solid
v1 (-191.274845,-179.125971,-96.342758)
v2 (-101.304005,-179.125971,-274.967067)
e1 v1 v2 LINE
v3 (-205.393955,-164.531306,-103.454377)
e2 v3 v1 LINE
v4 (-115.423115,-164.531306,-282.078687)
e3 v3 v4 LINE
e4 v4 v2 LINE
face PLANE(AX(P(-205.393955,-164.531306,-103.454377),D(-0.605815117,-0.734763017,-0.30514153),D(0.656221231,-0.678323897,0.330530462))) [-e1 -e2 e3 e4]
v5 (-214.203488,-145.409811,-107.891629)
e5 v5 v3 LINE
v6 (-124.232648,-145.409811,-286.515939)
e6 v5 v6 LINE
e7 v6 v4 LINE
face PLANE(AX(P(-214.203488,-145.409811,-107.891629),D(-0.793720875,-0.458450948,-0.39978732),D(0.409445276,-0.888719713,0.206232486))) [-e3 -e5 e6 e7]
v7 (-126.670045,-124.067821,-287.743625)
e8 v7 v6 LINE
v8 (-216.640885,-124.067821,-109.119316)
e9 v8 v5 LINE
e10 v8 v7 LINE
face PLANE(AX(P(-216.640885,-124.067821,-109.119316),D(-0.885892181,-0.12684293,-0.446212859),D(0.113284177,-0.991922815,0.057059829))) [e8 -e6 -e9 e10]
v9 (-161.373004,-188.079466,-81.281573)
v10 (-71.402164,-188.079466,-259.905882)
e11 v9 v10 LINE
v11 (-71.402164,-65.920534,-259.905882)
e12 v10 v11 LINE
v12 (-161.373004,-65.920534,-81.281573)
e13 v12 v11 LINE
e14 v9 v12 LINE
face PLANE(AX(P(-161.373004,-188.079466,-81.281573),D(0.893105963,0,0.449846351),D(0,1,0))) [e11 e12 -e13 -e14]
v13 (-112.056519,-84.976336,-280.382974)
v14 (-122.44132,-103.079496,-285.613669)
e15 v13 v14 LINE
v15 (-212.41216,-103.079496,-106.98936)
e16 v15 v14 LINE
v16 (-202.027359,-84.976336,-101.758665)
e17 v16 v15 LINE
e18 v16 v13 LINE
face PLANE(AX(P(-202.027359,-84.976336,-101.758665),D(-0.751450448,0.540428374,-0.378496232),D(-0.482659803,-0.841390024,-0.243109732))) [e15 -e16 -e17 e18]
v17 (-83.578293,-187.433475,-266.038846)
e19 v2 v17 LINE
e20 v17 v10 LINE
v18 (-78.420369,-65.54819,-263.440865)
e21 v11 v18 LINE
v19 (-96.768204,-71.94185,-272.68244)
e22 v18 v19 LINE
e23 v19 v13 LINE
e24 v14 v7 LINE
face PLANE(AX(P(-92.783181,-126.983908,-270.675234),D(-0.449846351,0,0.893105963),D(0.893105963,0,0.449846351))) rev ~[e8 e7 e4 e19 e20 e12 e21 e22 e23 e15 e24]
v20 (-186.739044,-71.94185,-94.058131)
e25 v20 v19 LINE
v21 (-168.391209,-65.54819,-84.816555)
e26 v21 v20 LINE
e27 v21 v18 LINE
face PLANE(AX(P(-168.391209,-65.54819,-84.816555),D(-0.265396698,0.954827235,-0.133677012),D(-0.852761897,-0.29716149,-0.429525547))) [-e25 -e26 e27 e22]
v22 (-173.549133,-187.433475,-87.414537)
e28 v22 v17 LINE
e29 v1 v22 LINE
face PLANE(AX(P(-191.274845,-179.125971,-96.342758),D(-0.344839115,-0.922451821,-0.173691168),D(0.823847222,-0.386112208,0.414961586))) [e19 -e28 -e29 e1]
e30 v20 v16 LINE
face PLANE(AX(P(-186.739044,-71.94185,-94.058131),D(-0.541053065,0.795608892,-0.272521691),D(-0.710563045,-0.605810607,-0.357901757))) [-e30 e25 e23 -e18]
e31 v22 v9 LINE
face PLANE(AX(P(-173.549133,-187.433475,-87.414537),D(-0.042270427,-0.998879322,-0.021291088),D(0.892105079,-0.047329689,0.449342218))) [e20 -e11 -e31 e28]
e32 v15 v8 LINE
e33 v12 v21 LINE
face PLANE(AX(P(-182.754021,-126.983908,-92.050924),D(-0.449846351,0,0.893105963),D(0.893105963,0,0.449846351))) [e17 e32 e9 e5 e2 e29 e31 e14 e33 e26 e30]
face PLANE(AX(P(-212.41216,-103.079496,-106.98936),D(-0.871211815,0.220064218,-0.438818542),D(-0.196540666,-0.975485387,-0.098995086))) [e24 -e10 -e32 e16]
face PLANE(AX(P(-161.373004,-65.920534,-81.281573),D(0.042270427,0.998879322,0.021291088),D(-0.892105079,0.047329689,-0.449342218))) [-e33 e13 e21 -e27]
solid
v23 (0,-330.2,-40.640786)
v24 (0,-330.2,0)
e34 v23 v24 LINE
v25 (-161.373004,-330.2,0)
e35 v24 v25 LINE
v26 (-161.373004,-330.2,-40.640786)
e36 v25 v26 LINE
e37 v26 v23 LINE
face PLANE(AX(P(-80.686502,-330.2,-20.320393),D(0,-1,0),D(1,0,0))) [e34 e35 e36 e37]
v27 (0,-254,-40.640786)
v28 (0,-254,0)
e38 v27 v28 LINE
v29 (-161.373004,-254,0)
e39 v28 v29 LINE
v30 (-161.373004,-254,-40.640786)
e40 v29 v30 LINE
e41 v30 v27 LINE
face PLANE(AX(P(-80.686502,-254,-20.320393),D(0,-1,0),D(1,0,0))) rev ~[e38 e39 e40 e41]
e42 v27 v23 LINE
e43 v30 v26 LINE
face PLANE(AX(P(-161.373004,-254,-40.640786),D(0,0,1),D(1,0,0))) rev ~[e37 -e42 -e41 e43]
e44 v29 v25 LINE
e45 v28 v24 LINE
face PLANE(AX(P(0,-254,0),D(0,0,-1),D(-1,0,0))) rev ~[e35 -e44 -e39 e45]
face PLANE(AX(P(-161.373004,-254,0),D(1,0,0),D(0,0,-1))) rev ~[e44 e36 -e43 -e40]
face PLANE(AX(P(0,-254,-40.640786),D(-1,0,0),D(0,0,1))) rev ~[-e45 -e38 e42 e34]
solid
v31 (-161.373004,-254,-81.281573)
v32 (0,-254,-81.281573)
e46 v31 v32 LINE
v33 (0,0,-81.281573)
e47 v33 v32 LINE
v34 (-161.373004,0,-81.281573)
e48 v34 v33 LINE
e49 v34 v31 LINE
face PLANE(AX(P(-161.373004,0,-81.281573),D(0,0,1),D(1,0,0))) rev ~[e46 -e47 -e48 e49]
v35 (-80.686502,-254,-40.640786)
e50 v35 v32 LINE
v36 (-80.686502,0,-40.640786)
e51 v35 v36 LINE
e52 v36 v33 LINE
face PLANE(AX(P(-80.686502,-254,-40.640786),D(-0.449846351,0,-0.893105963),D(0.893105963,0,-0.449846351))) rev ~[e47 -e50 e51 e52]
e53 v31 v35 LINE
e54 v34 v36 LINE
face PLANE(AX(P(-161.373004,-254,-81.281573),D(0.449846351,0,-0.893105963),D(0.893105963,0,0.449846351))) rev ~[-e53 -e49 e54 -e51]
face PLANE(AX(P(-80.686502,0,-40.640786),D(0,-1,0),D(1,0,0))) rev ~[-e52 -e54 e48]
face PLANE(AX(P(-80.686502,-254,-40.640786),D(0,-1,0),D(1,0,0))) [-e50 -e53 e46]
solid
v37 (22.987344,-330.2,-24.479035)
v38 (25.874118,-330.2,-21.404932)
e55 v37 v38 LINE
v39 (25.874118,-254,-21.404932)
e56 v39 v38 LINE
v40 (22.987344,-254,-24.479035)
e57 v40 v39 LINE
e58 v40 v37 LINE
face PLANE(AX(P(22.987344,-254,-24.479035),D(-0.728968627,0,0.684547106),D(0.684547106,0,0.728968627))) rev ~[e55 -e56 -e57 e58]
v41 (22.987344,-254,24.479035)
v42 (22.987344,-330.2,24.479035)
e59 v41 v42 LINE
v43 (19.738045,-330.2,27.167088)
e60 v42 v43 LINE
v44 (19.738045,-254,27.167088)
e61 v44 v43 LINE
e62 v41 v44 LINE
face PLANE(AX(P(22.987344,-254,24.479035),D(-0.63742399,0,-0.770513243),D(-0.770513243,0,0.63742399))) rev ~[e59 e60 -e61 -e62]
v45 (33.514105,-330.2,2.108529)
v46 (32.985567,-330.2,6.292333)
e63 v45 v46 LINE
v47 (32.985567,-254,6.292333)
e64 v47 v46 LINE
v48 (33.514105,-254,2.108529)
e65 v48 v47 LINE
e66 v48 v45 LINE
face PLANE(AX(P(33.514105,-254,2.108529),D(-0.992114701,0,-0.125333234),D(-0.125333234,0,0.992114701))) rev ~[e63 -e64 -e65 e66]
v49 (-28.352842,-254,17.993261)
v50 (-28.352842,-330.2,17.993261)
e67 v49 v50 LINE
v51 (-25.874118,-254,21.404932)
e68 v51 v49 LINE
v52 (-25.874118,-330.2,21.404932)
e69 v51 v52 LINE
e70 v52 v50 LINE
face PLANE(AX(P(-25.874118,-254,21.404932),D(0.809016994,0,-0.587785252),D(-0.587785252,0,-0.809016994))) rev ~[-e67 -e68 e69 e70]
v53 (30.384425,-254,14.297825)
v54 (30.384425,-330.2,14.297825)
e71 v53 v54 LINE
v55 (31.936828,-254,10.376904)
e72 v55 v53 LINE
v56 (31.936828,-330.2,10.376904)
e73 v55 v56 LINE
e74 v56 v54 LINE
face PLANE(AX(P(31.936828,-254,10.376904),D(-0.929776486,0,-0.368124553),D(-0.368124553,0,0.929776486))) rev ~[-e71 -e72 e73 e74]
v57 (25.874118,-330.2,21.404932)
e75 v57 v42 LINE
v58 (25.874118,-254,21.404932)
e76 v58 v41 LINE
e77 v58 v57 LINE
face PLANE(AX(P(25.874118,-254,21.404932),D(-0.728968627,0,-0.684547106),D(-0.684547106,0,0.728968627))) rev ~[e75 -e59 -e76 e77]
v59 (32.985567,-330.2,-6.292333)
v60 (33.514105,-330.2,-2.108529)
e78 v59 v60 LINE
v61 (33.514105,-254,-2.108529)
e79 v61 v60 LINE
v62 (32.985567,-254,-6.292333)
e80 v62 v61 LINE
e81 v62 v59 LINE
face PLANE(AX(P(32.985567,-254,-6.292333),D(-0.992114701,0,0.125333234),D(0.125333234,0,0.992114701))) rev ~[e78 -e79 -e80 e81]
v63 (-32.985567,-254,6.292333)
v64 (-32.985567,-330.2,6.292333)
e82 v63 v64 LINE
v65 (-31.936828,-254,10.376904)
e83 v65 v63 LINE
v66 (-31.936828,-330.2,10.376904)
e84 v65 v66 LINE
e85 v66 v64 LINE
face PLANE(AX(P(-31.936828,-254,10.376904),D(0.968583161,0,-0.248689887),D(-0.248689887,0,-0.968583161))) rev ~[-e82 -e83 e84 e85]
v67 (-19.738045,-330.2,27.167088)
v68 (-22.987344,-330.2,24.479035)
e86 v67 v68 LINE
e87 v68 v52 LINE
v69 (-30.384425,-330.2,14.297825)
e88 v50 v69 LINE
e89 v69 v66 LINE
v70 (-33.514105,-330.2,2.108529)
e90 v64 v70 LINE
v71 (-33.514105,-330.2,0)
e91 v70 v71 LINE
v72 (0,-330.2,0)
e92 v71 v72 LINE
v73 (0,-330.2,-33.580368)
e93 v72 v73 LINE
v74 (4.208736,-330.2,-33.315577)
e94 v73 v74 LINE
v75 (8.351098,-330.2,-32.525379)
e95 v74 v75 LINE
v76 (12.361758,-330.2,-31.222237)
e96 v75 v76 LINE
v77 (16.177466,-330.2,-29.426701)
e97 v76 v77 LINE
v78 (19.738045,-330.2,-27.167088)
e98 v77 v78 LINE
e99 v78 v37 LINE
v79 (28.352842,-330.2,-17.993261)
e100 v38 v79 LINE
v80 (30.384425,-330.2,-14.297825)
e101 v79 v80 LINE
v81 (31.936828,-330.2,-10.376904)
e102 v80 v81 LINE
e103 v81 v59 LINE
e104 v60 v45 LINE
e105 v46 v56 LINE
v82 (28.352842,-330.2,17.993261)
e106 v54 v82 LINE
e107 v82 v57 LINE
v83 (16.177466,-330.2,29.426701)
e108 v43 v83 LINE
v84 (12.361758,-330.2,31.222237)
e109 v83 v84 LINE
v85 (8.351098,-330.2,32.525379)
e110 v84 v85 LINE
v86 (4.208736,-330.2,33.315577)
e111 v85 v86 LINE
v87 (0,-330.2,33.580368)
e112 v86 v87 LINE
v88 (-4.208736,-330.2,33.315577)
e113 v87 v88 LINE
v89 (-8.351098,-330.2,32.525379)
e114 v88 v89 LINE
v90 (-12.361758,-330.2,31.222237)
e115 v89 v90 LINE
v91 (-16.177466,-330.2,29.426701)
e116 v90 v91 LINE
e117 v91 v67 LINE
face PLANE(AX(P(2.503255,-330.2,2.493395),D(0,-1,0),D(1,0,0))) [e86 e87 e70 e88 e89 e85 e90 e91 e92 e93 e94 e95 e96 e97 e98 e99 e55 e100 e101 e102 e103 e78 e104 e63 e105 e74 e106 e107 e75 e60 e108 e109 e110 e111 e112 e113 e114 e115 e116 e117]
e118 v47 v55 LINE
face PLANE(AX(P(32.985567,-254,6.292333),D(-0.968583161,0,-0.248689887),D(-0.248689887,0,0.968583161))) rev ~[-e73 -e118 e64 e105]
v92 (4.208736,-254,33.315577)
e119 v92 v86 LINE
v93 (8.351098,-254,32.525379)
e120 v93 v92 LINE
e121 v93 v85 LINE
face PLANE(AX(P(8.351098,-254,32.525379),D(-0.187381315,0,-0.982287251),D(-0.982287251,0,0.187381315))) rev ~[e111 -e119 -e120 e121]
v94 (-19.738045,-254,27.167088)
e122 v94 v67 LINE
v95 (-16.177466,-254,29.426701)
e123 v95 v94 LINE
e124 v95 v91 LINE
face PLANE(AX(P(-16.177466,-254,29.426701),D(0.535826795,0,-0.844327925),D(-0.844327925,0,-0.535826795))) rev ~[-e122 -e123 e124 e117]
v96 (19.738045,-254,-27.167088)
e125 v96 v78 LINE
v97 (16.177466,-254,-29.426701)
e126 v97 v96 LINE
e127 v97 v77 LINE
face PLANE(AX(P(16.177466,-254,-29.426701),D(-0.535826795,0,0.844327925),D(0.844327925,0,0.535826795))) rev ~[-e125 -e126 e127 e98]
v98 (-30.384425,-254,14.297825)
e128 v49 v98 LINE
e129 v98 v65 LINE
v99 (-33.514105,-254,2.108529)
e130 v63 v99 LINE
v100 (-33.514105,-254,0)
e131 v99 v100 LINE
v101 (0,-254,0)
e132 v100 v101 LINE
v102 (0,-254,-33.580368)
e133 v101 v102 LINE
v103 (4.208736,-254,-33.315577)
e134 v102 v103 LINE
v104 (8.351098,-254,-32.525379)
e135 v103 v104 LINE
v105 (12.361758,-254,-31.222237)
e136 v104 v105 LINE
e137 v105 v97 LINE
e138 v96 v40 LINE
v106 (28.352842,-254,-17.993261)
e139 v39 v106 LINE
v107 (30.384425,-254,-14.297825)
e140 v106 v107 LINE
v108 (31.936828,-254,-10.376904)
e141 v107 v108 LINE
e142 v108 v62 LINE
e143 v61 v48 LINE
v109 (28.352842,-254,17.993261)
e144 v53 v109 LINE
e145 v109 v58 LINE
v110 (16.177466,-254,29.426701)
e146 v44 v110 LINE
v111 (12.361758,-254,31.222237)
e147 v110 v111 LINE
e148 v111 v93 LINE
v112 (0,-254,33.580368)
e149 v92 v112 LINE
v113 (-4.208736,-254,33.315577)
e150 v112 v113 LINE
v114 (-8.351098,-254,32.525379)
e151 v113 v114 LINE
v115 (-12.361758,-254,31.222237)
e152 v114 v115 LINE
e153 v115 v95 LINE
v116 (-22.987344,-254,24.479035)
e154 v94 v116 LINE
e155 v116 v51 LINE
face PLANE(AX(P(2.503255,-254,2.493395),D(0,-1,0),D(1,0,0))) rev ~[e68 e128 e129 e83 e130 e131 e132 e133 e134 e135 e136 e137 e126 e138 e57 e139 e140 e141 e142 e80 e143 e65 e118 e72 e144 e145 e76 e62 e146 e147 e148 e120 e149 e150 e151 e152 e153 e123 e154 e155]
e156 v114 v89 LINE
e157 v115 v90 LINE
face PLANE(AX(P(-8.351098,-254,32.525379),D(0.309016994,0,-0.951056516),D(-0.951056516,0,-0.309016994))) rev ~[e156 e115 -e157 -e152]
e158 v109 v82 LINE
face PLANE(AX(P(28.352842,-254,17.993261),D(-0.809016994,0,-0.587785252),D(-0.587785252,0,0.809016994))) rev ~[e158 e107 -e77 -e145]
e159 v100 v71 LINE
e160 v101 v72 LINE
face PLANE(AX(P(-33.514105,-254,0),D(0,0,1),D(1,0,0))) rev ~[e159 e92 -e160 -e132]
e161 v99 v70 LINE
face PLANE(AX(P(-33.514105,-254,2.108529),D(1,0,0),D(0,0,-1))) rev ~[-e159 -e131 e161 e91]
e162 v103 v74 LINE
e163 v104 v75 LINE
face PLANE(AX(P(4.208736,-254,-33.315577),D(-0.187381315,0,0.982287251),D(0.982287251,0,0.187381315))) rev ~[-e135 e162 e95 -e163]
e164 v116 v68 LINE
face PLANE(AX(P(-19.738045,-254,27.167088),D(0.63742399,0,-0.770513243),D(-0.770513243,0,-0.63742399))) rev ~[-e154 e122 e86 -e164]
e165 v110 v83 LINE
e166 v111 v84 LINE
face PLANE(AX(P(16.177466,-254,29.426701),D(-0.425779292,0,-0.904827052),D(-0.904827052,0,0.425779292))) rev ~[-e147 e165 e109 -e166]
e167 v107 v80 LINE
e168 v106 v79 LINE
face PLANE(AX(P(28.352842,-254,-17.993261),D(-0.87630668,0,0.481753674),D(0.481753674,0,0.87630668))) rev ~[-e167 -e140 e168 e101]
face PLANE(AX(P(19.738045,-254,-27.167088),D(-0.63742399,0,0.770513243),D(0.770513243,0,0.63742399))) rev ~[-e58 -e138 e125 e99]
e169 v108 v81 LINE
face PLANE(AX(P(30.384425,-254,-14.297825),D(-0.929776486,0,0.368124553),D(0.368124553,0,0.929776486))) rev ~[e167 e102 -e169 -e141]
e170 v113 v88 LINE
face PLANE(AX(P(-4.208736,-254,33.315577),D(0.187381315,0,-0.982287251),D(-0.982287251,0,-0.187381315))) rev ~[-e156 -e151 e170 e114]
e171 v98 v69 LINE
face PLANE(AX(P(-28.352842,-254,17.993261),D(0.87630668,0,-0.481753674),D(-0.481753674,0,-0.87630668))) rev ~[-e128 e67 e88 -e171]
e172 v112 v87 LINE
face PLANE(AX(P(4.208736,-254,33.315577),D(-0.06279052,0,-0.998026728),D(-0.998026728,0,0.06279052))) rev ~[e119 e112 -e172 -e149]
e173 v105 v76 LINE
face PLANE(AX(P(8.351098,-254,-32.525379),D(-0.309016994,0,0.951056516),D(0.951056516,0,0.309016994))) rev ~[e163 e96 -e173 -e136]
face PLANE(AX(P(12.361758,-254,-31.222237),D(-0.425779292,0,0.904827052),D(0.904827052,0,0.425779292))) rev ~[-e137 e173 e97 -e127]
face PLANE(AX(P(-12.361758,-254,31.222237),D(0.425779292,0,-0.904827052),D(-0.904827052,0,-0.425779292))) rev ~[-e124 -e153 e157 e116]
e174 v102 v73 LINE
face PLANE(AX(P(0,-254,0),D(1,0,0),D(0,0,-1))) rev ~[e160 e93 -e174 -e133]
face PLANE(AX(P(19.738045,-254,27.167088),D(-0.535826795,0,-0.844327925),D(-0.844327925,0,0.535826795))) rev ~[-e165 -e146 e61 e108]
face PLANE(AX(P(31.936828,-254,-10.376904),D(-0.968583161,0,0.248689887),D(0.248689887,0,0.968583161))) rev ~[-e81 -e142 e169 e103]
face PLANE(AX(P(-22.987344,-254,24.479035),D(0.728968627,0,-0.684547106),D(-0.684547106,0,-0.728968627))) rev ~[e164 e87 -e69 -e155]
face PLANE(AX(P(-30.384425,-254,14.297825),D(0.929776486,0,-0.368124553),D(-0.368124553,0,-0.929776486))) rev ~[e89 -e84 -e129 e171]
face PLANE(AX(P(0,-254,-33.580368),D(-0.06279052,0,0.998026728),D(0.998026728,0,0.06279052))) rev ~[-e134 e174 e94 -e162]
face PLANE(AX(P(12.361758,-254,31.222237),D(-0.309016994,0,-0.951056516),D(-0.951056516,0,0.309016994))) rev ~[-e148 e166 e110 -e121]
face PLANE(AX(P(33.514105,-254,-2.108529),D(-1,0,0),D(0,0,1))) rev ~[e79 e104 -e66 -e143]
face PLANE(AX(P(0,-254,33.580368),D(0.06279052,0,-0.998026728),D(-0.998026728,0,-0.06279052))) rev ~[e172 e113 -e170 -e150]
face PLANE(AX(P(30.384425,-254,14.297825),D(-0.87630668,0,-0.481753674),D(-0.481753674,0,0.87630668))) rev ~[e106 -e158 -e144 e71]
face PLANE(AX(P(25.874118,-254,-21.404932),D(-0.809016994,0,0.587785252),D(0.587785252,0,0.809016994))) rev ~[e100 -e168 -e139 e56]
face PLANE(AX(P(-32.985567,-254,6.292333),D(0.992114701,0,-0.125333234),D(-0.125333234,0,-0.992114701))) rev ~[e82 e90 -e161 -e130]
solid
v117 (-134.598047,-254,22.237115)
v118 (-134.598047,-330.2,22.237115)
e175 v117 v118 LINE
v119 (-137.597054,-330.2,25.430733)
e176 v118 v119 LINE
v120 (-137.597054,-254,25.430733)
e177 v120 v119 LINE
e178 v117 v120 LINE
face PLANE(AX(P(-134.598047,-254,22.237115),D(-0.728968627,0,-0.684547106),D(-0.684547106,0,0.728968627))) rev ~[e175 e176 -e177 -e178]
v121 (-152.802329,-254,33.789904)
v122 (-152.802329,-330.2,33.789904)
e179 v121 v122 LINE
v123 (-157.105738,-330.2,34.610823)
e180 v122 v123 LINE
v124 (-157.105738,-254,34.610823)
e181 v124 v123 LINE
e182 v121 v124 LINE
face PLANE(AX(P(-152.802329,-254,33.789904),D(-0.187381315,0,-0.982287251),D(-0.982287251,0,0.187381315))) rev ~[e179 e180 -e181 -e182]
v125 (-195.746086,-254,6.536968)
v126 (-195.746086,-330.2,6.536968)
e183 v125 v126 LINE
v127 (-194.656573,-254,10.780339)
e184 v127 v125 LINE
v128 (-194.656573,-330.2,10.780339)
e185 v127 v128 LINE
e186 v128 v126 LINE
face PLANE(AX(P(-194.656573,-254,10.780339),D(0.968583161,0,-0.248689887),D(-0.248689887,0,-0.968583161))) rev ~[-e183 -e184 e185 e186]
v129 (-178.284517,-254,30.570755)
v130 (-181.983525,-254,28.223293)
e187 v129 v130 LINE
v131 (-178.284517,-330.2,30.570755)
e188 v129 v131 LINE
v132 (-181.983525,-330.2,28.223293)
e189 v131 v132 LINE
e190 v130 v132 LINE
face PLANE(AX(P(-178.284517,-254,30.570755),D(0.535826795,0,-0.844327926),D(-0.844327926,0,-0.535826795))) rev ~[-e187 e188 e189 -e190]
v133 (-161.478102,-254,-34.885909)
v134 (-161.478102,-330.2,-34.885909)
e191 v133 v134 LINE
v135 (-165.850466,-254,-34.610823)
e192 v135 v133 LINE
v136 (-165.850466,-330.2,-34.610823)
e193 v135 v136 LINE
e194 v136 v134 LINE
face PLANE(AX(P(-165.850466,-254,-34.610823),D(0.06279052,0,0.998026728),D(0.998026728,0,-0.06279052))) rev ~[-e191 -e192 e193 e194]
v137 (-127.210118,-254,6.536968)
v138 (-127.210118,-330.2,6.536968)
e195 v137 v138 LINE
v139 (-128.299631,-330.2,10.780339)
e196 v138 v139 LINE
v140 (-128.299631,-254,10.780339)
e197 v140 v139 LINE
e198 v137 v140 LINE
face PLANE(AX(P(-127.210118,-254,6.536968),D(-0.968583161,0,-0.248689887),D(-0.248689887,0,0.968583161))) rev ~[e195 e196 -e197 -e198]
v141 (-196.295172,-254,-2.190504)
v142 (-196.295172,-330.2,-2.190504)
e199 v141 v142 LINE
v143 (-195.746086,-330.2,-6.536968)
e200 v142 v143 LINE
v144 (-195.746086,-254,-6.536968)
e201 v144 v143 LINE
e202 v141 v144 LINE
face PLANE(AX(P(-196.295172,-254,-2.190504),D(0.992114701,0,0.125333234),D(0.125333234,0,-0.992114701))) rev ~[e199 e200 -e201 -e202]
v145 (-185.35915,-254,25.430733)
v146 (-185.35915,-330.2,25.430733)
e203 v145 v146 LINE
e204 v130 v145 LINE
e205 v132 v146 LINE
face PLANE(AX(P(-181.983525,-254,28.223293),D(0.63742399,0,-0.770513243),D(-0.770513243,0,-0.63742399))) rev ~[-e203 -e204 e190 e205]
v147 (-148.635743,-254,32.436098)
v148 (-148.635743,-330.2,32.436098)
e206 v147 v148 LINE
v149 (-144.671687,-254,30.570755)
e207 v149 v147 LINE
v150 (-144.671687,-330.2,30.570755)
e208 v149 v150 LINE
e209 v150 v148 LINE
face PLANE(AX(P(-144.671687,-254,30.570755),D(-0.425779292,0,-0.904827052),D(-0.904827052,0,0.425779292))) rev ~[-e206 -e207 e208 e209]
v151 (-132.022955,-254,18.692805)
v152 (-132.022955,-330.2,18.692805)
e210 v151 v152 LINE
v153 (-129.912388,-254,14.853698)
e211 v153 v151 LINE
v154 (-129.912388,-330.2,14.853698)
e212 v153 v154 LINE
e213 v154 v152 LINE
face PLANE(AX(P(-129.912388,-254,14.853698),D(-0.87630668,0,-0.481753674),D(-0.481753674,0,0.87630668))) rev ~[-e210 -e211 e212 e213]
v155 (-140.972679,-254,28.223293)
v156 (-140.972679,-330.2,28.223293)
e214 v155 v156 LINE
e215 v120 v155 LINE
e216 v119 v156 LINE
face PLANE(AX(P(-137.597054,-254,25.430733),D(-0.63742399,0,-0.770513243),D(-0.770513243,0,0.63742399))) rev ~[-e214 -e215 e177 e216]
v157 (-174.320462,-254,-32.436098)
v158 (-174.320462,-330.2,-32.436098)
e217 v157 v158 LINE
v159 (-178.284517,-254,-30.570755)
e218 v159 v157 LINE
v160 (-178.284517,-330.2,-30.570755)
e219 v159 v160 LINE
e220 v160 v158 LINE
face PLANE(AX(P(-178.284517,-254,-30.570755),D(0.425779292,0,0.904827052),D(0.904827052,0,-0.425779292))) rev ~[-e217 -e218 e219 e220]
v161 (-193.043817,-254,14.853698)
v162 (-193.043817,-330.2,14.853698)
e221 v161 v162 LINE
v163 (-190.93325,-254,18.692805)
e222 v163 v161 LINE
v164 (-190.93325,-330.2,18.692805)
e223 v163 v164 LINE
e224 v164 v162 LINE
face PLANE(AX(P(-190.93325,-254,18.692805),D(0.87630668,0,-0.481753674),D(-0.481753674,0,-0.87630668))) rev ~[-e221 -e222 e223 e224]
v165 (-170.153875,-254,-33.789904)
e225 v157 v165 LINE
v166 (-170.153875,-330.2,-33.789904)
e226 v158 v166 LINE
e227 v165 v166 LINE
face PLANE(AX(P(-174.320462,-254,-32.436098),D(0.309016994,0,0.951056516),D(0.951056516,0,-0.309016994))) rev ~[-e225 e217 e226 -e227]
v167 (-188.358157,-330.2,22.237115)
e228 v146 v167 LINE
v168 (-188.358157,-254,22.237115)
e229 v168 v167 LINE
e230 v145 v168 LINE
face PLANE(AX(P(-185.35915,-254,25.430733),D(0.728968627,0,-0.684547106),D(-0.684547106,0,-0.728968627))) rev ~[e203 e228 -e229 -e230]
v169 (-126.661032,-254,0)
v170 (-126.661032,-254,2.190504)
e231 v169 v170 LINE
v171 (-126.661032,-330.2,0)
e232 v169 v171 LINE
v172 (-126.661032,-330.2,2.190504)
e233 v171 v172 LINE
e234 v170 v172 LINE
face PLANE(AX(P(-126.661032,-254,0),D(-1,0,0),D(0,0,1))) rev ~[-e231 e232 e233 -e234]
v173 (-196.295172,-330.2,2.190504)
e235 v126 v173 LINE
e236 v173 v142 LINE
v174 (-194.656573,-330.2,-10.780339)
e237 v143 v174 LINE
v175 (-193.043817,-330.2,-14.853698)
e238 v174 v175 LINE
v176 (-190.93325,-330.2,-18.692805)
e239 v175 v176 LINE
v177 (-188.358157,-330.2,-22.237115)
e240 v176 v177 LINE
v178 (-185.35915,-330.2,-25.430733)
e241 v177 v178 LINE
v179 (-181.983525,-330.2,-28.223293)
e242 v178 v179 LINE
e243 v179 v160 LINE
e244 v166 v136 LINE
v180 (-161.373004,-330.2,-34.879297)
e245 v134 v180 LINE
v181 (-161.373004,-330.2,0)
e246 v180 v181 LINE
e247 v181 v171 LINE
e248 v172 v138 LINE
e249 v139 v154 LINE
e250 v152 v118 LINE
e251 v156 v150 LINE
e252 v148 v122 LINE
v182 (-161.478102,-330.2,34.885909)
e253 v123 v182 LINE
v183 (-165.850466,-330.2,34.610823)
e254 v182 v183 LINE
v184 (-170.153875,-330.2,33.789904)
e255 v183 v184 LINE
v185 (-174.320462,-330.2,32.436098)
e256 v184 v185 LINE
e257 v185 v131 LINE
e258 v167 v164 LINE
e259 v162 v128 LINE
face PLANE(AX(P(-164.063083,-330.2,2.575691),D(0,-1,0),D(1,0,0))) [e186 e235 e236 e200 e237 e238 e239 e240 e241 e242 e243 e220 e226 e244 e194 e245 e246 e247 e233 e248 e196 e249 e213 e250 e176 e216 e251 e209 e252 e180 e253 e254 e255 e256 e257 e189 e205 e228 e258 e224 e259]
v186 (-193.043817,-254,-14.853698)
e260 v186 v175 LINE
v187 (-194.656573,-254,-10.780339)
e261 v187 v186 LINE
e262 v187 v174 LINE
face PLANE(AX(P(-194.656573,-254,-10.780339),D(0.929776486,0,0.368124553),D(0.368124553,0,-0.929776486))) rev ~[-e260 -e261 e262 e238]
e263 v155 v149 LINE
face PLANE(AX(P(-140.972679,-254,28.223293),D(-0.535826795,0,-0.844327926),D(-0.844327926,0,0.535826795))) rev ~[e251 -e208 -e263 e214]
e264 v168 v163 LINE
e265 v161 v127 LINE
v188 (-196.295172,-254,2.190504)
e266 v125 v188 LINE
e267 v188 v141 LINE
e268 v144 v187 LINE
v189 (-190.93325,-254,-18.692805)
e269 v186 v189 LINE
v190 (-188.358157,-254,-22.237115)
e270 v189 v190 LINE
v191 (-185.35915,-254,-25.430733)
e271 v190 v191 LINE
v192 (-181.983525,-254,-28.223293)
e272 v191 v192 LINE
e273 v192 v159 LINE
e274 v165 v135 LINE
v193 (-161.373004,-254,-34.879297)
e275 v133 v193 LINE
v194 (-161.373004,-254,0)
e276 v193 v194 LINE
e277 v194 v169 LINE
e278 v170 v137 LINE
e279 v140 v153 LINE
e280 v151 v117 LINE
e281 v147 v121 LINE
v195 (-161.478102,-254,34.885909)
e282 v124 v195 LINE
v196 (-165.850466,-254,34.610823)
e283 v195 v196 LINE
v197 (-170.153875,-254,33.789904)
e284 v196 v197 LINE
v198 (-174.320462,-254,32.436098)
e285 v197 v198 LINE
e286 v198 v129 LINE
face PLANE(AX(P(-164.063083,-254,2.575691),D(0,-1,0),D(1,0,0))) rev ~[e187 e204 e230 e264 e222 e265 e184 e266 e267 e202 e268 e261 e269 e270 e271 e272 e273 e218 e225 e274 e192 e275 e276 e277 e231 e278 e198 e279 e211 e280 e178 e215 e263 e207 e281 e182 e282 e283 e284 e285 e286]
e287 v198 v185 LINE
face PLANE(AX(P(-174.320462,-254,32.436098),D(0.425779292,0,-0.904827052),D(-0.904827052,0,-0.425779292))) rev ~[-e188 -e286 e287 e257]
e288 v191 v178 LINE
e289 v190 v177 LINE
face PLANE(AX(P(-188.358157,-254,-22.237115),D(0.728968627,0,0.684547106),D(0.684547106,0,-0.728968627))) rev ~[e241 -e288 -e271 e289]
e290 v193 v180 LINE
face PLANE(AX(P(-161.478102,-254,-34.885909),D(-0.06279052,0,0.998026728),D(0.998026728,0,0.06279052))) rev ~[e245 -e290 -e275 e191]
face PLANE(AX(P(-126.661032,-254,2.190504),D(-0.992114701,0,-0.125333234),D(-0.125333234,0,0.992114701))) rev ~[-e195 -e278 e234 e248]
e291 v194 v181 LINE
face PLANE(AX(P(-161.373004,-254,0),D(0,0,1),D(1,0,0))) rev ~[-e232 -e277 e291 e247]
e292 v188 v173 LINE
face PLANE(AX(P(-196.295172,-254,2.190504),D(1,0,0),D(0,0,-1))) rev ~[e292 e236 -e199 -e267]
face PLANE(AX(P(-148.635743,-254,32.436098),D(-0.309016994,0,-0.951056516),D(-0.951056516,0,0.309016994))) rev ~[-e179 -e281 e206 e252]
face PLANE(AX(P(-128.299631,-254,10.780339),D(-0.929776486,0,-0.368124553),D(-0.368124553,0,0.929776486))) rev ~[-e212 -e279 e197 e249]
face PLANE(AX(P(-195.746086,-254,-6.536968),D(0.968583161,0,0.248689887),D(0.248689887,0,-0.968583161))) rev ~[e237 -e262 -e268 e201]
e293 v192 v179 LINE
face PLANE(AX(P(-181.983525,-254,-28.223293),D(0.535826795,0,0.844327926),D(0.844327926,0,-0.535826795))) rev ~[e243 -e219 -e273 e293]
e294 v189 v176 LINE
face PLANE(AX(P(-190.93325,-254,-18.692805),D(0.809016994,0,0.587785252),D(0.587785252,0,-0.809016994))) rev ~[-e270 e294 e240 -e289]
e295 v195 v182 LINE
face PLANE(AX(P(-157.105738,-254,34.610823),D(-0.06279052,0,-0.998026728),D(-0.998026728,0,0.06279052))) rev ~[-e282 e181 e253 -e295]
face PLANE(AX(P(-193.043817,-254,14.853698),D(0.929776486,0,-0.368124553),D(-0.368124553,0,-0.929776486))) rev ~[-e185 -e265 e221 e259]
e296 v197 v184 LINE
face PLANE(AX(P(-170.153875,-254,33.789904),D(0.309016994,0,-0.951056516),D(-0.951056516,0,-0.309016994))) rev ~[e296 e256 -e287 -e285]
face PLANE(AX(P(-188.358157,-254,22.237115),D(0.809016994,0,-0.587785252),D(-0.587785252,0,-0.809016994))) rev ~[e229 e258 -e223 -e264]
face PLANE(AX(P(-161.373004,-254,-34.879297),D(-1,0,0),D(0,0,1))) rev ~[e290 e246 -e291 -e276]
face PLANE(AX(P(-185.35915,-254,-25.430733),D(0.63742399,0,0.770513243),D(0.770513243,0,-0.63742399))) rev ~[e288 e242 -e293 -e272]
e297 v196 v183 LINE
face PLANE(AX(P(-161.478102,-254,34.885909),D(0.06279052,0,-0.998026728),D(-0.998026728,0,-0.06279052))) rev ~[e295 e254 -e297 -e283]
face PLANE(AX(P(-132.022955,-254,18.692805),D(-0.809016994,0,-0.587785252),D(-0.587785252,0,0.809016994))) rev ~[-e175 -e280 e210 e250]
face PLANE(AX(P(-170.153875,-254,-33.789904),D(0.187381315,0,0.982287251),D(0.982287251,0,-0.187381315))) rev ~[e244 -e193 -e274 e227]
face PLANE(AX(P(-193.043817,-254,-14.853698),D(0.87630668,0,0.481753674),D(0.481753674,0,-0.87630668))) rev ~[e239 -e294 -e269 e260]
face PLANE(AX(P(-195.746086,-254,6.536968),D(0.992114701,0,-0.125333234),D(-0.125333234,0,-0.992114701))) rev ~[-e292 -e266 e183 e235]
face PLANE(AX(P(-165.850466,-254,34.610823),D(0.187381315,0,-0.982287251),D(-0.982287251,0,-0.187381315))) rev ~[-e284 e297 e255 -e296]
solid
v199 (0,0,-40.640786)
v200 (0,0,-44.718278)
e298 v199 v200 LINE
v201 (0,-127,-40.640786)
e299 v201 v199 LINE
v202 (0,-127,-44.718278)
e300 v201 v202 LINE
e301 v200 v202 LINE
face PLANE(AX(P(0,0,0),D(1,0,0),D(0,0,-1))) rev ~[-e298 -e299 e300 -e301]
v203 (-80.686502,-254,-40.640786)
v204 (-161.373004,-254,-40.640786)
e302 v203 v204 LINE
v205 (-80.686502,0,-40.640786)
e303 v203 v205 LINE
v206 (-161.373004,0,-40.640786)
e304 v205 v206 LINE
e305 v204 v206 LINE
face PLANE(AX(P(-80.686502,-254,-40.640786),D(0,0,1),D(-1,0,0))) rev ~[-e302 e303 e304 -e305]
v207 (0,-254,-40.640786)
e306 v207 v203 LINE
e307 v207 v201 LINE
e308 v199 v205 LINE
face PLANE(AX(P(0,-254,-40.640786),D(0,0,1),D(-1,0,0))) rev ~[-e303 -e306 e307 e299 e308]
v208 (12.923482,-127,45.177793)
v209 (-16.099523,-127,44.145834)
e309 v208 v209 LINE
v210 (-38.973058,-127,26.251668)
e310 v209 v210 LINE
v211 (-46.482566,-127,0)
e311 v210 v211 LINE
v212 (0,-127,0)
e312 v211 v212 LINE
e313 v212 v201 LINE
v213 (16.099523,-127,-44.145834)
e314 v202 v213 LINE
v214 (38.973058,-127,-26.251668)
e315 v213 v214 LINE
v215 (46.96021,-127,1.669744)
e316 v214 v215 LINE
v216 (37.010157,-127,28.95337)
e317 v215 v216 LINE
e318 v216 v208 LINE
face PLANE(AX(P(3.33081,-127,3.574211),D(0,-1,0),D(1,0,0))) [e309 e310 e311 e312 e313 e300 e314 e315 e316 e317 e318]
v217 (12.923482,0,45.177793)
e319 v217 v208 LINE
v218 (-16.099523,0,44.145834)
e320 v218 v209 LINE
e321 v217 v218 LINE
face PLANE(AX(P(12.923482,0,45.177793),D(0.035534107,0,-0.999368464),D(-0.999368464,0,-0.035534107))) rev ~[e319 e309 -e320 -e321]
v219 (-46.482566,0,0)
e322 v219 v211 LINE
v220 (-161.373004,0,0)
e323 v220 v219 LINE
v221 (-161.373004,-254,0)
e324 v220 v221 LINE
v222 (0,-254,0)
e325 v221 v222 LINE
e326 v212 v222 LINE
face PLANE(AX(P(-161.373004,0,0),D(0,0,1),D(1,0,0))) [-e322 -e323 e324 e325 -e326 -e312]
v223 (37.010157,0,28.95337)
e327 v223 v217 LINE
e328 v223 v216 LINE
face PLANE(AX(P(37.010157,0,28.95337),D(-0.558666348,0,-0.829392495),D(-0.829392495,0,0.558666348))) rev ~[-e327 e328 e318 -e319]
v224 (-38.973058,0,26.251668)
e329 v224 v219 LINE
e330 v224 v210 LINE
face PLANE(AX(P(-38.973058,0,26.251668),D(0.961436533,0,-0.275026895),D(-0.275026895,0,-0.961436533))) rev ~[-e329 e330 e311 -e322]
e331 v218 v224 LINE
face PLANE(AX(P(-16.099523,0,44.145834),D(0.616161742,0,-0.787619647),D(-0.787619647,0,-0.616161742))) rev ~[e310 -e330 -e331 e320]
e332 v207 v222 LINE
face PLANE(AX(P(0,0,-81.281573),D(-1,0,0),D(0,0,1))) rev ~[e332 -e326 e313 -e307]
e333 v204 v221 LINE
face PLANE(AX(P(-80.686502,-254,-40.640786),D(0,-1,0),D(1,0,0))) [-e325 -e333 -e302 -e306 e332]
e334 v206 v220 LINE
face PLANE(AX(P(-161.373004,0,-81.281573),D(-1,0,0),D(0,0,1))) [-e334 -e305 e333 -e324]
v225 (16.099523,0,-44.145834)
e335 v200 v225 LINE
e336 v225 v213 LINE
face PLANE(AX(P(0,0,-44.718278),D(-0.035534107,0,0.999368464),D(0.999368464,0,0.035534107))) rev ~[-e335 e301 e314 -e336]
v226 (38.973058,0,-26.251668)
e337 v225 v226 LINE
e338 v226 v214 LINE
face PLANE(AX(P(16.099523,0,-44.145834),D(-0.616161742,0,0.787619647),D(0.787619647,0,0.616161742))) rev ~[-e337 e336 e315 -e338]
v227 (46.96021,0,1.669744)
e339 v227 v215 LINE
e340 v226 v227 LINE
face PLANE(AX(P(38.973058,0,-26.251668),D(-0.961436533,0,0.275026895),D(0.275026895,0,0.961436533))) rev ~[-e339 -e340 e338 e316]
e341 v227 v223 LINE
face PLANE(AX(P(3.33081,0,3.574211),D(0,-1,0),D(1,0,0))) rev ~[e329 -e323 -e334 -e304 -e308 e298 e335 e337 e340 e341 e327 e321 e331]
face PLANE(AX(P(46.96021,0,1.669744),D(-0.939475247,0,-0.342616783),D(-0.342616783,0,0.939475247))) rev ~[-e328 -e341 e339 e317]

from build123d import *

# Parameters (mm, degrees)
F0_W      = 161.3730043173
F0_H      = 81.2815725803
F2_DEPTH  = 254
F4_DEPTH  = 254.001
F6_DEPTH  = 254.001
F9_DEPTH  = 76.2
F11_DEPTH = 76.2
F13_DEPTH = 127
F15_DEPTH = 200.00349


with BuildPart() as f2:
    # F0 (on Front) → F2 (new body)
    with BuildSketch(Plane.XZ):
        with Locations((-80.6865021586, -40.6407862902)):
            Rectangle(F0_W, F0_H)
    extrude(amount=F2_DEPTH)

    # F3 (on face) → F4 (cut, through all)
    with BuildSketch(Plane.XZ.offset(254)):
        Polygon((-161.3730043173, -40.6407862902), (-161.3730043173, -81.2815725803), (-80.6865021586, -40.6407862902), align=None)
    extrude(amount=-F4_DEPTH, mode=Mode.SUBTRACT)

    # F5 (on face) → F6 (cut, through all)
    with BuildSketch(Plane.XZ.offset(254)):
        Polygon((0, -40.6407862902), (-80.6865021586, -40.6407862902), (0, -81.2815725803), align=None)
    extrude(amount=-F6_DEPTH, mode=Mode.SUBTRACT)

    # F12 (on face) → F13 (join)
    with BuildSketch(Plane.XZ):
        Polygon((38.9730583825, -26.2516677193), (46.9602096877, 1.6697436384), (37.010157011, 28.9533696787), (12.9234822851, 45.1777925906), (-16.0995234208, 44.1458342696), (-38.9730583825, 26.2516677193), (-46.4825656707, 0), (0, 0), (0, -44.7182779829), (16.0995234208, -44.1458342696), align=None)
    extrude(amount=F13_DEPTH)


with BuildPart() as f9:
    # F8 (on face) → F9 (new body)
    with BuildSketch(Plane.XZ.offset(254)):
        Polygon((-33.5141047835, 2.1085287508), (-33.5141047835, 0), (0, 0), (0, -33.580367969), (4.2087361018, -33.3155767376), (8.3510979212, -32.5253789593), (12.3617579376, -31.2222365251), (16.1774656468, -29.4267007696), (19.7380450587, -27.1670883643), (22.9873437092, -24.4790347467), (25.8741182174, -21.404932128), (28.3528424249, -17.9932609431), (30.3844253701, -14.2978252843), (31.9368277765, -10.3769043798), (32.9855673307, -6.2923334943), (33.5141047835, -2.1085287508), (33.5141047835, 2.1085287508), (32.9855673307, 6.2923334943), (31.9368277765, 10.3769043798), (30.3844253701, 14.2978252843), (28.3528424249, 17.9932609431), (25.8741182174, 21.404932128), (22.9873437092, 24.4790347467), (19.7380450587, 27.1670883643), (16.1774656468, 29.4267007696), (12.3617579376, 31.2222365251), (8.3510979212, 32.5253789593), (4.2087361018, 33.3155767376), (0, 33.580367969), (-4.2087361018, 33.3155767376), (-8.3510979212, 32.5253789593), (-12.3617579376, 31.2222365251), (-16.1774656468, 29.4267007696), (-19.7380450587, 27.1670883643), (-22.9873437092, 24.4790347467), (-25.8741182174, 21.404932128), (-28.3528424249, 17.9932609431), (-30.3844253701, 14.2978252843), (-31.9368277765, 10.3769043798), (-32.9855673307, 6.2923334943), align=None)
    extrude(amount=F9_DEPTH)


with BuildPart() as f11:
    # F7 (on face) → F11 (new body)
    with BuildSketch(Plane.XZ.offset(254)):
        Polygon((-161.3730043173, 0), (-161.3730043173, -40.6407862902), (-80.6865021586, -40.6407862902), (0, -40.6407862902), (0, 0), align=None)
    extrude(amount=F11_DEPTH)


with BuildPart() as f11b:
    # F10 (on face) → F11, piece 2 (new body)
    with BuildSketch(Plane.XZ.offset(254)):
        Polygon((-126.6610324383, 0), (-126.6610324383, 2.1905043593), (-127.2101184272, 6.5369675155), (-128.2996309911, 10.780338789), (-129.9123878659, 14.8536976799), (-132.0229549123, 18.6928048853), (-134.5980472273, 22.2371153911), (-137.5970540666, 25.4307333034), (-140.9726793009, 28.2232933598), (-144.6716873038, 30.5707552202), (-148.6357425094, 32.4360980088), (-152.8023293991, 33.7899041553), (-157.1057384086, 34.6108233282), (-161.4781022072, 34.8859091417), (-165.8504660057, 34.6108233282), (-170.1538750153, 33.7899041553), (-174.320461905, 32.4360980088), (-178.2845171106, 30.5707552202), (-181.9835251135, 28.2232933598), (-185.3591503478, 25.4307333034), (-188.3581571871, 22.2371153911), (-190.933249502, 18.6928048853), (-193.0438165484, 14.8536976799), (-194.6565734232, 10.780338789), (-195.7460859871, 6.5369675155), (-196.2951719761, 2.1905043593), (-196.2951719761, -2.1905043593), (-195.7460859871, -6.5369675155), (-194.6565734232, -10.780338789), (-193.0438165484, -14.8536976799), (-190.933249502, -18.6928048853), (-188.3581571871, -22.2371153911), (-185.3591503478, -25.4307333034), (-181.9835251135, -28.2232933598), (-178.2845171106, -30.5707552202), (-174.320461905, -32.4360980088), (-170.1538750153, -33.7899041553), (-165.8504660057, -34.6108233282), (-161.4781022072, -34.8859091417), (-161.3730043173, -34.8792969429), (-161.3730043173, 0), align=None)
    extrude(amount=F11_DEPTH)


with BuildPart() as f15:
    # F14 (on face) → F15 (new body)
    with BuildSketch(Plane(origin=(0, 0, 0), x_dir=(0.8931059627, 0, 0.4498463509), z_dir=(-0.4498463509, 0, 0.8931059627))):
        Polygon((-214.1681429585, -179.1259709386), (-194.3208757202, -187.4334749195), (-180.6874111927, -188.0794664983), (-180.6874111927, -65.9205335017), (-188.5456109341, -65.548190078), (-209.0894603395, -71.9418502842), (-226.2076034482, -84.9763359179), (-237.8353395644, -103.0794956431), (-242.5701921053, -124.0678212228), (-239.8410679756, -145.4098108374), (-229.9771398229, -164.5313055651), align=None)
    extrude(amount=-F15_DEPTH)


solid = Compound([f2.part, f9.part, f11.part, f11b.part, f15.part])
